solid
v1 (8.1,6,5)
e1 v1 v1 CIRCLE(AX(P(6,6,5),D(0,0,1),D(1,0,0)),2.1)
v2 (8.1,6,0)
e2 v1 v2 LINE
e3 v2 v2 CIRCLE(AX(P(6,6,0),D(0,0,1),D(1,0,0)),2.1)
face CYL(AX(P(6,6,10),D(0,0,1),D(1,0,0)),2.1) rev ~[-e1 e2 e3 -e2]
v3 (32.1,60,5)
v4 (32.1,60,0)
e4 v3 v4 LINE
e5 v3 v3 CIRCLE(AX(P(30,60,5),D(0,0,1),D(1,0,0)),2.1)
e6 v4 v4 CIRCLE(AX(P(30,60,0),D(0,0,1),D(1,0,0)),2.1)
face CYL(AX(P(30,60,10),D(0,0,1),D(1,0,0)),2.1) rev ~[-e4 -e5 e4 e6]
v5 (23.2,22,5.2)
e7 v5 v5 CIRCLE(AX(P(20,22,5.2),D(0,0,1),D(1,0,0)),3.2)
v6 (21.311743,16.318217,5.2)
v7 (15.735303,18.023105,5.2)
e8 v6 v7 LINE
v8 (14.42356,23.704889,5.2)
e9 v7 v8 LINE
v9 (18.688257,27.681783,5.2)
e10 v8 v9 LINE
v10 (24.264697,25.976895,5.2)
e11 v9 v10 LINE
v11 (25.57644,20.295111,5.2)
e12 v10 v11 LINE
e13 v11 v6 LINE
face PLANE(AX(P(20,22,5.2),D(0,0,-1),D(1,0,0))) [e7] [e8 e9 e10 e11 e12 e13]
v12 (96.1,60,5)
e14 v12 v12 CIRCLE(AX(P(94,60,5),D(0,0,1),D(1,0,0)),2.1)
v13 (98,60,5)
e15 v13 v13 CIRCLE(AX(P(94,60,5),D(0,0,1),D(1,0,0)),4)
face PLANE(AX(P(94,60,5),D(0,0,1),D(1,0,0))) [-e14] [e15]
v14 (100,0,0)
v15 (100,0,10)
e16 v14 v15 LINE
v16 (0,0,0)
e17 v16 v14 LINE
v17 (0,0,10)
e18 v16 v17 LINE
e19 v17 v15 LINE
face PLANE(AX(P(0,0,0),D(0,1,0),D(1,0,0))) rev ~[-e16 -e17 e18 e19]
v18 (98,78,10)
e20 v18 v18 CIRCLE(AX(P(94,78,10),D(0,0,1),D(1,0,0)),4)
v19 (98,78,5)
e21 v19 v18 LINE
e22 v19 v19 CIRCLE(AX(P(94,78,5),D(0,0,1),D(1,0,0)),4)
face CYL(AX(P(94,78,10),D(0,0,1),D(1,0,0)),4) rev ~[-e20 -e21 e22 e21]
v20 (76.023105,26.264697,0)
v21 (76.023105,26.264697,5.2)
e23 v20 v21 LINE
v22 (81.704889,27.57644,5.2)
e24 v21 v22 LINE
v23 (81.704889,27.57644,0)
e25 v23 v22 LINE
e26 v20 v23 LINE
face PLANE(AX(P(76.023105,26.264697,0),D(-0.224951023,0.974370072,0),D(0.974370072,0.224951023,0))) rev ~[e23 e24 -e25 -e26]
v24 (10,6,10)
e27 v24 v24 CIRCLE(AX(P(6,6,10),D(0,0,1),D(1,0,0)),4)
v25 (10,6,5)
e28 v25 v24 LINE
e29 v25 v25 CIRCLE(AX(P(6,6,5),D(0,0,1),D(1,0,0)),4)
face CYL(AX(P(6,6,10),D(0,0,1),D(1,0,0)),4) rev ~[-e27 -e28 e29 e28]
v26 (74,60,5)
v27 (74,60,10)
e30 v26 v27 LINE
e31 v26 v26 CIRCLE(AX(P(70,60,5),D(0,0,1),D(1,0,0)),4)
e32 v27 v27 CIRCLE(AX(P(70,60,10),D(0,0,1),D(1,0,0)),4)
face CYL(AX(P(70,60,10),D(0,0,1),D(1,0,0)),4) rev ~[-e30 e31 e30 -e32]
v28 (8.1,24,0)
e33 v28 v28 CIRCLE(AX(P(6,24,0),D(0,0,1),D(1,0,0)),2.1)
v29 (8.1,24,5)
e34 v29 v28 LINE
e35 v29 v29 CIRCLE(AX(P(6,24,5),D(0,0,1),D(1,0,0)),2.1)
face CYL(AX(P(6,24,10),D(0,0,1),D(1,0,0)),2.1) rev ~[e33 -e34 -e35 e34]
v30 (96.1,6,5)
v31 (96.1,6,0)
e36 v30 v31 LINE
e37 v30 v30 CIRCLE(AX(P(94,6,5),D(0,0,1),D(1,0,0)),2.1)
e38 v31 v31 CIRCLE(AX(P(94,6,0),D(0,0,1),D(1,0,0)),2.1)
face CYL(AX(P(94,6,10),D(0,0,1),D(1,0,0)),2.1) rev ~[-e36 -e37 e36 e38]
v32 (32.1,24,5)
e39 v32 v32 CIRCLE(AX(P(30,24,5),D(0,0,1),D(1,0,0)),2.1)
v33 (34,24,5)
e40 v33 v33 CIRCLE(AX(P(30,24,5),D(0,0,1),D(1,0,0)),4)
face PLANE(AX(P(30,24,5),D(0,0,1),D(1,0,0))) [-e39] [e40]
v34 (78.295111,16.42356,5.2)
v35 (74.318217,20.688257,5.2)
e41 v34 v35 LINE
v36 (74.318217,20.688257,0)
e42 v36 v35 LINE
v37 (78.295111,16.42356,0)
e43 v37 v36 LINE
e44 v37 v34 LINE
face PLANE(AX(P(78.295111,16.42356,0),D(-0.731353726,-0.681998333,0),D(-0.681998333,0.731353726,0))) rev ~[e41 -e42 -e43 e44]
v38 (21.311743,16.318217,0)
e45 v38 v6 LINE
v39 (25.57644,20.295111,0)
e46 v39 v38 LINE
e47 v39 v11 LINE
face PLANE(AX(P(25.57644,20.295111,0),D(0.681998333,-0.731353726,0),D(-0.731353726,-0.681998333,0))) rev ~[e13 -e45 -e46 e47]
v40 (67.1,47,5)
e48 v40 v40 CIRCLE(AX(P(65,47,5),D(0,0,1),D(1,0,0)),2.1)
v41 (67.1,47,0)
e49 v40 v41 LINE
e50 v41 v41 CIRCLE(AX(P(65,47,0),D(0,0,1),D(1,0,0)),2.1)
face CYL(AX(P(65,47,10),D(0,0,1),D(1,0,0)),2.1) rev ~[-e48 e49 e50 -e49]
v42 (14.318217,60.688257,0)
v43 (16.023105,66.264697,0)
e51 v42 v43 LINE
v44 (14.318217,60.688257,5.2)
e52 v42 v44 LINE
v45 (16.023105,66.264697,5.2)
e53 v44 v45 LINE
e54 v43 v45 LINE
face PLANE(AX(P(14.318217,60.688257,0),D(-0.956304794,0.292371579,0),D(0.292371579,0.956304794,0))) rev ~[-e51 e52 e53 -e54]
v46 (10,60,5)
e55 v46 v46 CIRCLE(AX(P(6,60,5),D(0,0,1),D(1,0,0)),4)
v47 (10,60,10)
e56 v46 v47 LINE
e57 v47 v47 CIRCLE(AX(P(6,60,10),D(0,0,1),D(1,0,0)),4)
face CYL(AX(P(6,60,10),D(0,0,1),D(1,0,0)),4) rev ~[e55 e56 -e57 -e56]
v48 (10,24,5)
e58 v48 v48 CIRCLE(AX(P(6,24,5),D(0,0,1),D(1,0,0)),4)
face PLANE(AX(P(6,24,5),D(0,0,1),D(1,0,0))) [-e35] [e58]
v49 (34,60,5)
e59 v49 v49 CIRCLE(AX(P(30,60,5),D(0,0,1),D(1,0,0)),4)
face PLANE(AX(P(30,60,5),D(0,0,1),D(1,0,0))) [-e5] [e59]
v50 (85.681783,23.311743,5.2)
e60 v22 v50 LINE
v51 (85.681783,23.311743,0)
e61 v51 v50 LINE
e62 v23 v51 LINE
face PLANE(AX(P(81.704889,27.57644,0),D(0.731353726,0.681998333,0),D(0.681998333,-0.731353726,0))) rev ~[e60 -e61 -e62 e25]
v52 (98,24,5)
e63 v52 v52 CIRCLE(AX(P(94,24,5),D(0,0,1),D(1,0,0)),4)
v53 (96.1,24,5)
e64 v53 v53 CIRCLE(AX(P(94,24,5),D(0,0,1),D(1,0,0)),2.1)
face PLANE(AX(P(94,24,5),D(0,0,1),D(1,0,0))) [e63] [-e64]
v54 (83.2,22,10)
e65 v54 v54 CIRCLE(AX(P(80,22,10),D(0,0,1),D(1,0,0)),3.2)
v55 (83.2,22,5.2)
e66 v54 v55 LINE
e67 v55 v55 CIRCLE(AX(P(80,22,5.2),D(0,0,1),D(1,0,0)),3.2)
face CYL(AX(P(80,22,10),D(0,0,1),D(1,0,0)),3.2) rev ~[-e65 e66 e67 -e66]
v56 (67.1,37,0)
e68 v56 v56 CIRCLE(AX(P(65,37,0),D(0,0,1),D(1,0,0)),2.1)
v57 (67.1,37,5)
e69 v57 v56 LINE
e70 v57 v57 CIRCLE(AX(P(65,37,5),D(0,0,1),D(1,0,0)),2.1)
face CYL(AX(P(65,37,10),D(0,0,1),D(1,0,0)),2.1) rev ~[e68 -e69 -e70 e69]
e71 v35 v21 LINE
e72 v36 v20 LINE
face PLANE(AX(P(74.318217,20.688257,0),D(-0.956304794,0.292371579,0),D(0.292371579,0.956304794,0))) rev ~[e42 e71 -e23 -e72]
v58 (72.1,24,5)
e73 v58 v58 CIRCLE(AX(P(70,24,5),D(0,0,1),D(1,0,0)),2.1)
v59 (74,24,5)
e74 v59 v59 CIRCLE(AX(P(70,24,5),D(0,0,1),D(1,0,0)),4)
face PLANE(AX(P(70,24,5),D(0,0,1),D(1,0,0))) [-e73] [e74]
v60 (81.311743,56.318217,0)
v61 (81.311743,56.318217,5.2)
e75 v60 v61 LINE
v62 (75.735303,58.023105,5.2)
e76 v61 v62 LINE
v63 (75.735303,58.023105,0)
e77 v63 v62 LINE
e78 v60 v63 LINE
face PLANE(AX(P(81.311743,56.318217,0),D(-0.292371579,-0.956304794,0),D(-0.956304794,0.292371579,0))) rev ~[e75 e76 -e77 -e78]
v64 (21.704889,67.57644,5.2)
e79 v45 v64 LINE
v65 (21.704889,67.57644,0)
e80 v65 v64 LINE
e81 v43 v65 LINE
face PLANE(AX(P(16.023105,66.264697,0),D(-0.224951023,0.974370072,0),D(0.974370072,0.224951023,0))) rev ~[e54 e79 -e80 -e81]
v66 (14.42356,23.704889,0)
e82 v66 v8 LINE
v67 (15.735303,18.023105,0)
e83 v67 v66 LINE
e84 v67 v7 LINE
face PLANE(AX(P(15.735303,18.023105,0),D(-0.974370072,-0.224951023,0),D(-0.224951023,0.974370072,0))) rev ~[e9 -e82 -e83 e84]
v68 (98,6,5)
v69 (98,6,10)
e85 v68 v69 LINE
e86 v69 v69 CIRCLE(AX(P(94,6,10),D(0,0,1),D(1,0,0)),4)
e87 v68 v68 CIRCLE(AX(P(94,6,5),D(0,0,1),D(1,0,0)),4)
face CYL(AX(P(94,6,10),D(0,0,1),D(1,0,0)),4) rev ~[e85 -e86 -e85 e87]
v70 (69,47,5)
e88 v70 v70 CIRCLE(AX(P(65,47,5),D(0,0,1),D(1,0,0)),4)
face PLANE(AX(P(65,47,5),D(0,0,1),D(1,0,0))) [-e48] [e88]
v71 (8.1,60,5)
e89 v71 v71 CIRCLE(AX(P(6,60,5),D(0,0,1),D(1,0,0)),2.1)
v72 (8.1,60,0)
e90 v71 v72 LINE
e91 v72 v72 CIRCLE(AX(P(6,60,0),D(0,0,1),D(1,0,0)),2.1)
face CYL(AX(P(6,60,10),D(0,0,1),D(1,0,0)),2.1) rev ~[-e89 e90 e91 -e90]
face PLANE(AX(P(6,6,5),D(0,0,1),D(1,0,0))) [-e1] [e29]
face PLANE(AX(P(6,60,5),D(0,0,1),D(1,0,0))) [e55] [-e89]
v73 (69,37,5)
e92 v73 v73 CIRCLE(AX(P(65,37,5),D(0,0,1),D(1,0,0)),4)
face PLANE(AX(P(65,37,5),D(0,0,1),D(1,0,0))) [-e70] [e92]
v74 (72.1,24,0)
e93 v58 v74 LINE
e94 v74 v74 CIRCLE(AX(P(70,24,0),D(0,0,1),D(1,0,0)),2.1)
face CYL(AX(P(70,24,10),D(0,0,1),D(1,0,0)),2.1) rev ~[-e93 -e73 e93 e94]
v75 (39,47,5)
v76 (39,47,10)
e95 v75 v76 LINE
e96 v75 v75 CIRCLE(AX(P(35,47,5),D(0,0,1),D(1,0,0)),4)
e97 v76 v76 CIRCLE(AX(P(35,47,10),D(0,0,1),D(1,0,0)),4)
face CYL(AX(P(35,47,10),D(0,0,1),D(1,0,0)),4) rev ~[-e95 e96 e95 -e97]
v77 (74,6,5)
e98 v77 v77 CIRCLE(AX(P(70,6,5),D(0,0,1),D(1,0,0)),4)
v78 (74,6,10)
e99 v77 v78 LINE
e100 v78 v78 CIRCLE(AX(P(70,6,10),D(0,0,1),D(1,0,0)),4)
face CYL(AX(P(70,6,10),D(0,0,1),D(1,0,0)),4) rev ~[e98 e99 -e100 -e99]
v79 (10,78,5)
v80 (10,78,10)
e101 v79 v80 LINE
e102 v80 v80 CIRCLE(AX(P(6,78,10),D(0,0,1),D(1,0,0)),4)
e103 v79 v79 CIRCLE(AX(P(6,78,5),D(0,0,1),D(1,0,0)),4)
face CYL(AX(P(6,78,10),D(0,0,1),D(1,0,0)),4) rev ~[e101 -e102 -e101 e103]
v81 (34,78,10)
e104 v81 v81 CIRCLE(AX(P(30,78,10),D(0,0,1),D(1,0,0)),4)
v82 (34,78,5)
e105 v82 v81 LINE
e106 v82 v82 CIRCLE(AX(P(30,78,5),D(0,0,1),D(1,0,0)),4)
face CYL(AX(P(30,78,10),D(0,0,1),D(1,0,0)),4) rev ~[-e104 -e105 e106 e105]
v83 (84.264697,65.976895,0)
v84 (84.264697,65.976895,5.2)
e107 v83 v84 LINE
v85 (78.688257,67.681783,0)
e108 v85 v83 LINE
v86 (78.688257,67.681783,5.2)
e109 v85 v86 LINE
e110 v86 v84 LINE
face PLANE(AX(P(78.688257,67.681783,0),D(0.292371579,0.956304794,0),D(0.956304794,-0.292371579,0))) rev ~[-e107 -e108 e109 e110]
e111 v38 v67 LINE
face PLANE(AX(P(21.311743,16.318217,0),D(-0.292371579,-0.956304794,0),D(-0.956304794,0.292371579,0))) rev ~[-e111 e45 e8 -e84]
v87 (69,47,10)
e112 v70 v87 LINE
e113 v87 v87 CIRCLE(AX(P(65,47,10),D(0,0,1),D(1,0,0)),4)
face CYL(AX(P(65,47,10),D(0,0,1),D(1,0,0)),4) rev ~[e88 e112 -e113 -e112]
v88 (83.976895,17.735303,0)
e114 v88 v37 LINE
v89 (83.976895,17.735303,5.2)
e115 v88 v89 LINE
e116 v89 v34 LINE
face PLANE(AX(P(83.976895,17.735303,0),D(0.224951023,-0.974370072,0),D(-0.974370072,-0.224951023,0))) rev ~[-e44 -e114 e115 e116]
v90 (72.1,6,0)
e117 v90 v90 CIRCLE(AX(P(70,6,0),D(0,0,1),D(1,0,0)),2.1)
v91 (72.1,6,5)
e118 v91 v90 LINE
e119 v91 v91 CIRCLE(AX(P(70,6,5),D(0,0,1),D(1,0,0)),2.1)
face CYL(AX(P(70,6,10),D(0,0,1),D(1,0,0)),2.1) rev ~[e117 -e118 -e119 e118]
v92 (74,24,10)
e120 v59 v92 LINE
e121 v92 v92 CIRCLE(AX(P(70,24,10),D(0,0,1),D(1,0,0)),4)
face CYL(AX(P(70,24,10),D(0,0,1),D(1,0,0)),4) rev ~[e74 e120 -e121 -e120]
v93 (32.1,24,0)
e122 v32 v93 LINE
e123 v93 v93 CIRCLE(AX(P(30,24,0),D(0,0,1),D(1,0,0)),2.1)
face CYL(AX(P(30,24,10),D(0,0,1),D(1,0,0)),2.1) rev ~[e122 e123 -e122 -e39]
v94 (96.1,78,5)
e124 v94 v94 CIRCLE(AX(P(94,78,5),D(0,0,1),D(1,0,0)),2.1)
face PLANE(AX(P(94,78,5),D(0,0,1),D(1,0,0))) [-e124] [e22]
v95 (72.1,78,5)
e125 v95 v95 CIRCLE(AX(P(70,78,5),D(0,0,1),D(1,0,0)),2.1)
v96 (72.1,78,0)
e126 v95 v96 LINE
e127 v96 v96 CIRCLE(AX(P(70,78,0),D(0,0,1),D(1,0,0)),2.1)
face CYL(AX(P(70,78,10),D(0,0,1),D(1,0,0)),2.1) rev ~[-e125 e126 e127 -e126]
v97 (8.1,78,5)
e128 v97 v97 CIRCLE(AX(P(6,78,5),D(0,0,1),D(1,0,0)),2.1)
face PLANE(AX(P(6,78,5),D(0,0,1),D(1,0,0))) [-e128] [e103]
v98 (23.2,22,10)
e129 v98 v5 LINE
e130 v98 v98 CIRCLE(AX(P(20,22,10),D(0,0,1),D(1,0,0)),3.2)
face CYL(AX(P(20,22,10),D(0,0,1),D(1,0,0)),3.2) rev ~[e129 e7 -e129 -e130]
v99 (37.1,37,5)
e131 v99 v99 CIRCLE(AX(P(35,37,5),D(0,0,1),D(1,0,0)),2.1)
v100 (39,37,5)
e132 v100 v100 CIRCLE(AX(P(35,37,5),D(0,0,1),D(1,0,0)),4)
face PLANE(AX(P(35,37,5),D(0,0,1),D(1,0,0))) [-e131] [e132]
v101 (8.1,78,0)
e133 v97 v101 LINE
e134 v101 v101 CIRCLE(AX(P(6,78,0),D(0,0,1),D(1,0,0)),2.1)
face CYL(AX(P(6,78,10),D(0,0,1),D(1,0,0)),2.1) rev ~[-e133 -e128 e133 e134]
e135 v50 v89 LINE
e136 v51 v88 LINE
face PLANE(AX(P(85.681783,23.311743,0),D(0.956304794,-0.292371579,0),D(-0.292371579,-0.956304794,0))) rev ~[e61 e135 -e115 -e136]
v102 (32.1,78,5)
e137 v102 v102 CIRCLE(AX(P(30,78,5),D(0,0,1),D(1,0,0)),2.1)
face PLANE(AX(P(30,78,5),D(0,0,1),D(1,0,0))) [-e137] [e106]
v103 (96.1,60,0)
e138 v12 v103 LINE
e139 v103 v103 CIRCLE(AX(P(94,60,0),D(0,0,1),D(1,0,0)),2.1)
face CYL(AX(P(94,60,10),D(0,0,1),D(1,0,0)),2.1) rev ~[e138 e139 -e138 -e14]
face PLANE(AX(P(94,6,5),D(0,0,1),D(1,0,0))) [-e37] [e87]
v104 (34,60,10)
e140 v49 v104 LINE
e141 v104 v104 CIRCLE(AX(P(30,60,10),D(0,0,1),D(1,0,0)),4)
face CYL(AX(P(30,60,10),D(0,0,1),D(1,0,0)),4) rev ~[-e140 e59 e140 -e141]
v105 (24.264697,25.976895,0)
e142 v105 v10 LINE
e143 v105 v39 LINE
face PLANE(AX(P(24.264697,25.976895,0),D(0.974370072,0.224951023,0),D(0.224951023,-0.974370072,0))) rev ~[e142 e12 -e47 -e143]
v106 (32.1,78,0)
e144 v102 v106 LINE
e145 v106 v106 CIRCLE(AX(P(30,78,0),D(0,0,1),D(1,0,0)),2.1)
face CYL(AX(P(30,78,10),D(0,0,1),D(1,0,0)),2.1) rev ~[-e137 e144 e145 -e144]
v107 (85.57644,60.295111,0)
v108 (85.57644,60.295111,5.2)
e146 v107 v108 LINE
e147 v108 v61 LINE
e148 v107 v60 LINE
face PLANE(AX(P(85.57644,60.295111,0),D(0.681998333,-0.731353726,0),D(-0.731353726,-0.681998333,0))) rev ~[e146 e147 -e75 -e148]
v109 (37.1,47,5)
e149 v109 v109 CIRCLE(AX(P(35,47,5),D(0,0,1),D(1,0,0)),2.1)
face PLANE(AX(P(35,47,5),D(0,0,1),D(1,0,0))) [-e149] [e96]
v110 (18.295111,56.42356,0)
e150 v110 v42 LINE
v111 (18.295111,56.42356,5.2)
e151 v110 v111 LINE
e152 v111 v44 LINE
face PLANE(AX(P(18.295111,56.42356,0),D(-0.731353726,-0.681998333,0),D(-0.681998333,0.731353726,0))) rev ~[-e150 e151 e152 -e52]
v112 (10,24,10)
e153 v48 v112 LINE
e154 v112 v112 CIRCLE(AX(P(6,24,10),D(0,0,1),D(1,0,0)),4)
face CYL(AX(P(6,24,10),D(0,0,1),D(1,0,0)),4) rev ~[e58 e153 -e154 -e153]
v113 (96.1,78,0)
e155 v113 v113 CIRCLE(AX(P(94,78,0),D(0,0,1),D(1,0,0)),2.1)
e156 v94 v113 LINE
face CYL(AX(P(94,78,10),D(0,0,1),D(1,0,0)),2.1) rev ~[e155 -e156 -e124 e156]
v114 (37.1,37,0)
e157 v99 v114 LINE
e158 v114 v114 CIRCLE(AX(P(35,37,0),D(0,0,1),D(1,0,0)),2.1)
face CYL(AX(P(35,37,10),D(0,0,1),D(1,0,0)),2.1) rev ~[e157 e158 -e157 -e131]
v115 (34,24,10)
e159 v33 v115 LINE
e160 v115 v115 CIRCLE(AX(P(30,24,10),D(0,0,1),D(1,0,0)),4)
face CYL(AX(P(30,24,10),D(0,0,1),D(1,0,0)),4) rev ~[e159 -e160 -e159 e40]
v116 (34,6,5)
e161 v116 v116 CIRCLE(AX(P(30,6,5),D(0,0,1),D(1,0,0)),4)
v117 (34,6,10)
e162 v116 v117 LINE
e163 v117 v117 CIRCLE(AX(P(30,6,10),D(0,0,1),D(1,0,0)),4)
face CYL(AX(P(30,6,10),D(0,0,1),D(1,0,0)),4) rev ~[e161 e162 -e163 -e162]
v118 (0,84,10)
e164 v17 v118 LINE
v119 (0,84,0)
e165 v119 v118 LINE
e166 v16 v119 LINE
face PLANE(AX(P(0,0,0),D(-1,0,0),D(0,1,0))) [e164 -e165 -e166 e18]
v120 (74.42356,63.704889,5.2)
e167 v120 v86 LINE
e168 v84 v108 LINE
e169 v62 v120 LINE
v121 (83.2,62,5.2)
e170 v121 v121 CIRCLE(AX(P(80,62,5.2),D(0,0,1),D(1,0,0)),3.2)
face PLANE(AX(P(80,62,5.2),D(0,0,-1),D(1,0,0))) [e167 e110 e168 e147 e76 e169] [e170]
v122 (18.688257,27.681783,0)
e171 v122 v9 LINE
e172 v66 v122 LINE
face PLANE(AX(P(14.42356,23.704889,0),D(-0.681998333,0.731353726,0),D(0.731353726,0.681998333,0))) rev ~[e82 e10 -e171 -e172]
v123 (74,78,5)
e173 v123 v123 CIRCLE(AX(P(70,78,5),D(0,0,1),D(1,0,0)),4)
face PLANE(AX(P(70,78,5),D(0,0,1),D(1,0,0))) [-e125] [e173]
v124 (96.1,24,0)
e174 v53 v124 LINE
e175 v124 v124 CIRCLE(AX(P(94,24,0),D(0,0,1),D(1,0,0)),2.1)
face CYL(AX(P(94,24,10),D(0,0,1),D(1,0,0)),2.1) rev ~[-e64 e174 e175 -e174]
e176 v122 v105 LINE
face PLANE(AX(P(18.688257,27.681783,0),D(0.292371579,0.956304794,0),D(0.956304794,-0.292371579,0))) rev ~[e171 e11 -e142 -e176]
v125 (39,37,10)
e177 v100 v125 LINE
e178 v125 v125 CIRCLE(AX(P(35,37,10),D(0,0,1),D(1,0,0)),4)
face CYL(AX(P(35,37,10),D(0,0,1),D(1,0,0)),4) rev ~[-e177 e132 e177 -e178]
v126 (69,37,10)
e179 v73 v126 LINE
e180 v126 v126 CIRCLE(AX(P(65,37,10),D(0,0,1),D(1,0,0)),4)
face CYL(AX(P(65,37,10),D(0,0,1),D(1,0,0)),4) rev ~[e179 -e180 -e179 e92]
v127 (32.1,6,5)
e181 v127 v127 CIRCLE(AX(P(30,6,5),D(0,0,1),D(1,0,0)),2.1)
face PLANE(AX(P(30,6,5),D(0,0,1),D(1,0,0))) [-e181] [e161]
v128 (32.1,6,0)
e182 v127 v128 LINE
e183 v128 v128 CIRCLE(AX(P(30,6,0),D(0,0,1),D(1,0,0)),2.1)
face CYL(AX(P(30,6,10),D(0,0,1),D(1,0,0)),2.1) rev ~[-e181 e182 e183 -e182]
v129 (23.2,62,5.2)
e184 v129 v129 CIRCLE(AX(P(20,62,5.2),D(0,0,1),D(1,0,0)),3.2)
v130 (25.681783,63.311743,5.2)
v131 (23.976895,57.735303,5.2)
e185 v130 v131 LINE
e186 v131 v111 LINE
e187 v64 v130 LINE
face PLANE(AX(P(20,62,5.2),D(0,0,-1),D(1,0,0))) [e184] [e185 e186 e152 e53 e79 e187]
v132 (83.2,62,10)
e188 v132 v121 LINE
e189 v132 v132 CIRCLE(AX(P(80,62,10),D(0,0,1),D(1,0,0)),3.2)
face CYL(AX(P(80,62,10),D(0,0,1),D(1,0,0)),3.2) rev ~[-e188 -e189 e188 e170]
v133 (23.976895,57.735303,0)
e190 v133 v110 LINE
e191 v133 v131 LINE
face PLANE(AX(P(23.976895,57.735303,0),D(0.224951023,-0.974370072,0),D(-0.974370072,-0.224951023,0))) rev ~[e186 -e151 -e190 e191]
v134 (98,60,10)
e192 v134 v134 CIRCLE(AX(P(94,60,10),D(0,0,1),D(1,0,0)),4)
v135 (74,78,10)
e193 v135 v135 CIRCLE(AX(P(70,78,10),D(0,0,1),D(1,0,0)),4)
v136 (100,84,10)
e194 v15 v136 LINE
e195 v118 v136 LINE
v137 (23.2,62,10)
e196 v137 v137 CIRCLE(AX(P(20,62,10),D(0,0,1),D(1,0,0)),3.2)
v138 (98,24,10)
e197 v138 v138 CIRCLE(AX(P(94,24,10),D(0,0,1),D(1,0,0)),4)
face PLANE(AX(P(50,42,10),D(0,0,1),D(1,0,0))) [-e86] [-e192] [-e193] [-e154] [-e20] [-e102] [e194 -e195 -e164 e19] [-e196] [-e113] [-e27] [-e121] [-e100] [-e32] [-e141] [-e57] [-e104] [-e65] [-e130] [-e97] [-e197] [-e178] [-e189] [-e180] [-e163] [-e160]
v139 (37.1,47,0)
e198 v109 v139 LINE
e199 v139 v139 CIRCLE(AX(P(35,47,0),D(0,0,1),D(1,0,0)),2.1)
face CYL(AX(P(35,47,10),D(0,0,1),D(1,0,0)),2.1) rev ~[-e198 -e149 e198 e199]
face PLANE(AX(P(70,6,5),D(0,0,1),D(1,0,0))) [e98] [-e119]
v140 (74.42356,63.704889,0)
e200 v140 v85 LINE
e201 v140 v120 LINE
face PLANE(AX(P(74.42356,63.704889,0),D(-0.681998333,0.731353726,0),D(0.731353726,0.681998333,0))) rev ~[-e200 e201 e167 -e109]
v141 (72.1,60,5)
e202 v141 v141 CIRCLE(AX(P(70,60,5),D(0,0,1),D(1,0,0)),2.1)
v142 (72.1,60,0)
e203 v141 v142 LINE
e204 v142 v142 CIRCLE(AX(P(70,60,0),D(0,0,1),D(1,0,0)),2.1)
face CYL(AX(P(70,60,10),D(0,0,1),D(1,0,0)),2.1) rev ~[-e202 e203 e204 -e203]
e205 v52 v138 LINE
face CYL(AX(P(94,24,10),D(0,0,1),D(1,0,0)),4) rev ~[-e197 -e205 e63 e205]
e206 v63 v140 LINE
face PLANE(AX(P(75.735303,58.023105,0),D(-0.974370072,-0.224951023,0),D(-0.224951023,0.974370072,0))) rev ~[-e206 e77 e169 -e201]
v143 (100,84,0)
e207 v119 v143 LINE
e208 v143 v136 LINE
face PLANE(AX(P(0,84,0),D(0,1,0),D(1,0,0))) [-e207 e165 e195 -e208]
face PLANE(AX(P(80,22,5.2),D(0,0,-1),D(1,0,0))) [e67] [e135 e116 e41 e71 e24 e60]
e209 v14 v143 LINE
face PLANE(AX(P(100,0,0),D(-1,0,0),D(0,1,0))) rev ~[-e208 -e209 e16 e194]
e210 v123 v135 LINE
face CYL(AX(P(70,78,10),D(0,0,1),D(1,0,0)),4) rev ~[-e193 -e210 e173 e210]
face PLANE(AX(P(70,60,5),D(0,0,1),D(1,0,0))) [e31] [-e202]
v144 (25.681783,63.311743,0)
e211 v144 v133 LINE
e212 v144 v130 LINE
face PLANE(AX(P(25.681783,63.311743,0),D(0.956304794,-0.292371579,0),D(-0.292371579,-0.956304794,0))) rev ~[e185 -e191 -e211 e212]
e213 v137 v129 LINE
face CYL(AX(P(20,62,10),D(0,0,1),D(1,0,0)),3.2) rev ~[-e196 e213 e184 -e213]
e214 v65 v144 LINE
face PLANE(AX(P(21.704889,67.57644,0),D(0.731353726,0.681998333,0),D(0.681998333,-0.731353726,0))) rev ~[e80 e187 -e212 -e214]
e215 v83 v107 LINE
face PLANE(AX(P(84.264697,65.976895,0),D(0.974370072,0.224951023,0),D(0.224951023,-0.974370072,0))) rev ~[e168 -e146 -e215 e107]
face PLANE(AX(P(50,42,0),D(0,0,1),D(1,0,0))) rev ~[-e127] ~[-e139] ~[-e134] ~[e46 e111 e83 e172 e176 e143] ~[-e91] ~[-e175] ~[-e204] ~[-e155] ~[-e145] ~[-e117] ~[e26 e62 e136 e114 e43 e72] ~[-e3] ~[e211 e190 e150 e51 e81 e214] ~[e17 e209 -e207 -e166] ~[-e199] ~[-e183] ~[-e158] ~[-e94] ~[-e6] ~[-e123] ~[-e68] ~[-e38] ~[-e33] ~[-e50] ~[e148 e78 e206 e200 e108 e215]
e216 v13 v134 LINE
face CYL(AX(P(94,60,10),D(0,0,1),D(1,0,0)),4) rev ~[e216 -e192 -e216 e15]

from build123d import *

# Parameters (mm, degrees)
SKETCH_W        = 100
SKETCH_H        = 84
PAD_DEPTH       = 10
SKETCH001_R     = 2.1
POCKET_DEPTH    = 10
SKETCH002_R     = 3.2
POCKET001_DEPTH = 10
SKETCH003_R     = 4
POCKET002_DEPTH = 5
POCKET003_DEPTH = 4
POCKET004_DEPTH = 5.2


with BuildPart() as part:
    # Sketch → Pad (new body)
    with BuildSketch(Plane.XY):
        with Locations((50, 42)):
            Rectangle(SKETCH_W, SKETCH_H)
    extrude(amount=PAD_DEPTH)

    # Sketch001 (on Face6 of Pad) → Pocket (cut)
    with BuildSketch(Plane.XY.offset(10)):
        with Locations((6, 78)):
            Circle(SKETCH001_R)
        with Locations((30, 78)):
            Circle(SKETCH001_R)
        with Locations((6, 60)):
            Circle(SKETCH001_R)
        with Locations((30, 60)):
            Circle(SKETCH001_R)
        with Locations((6, 24)):
            Circle(SKETCH001_R)
        with Locations((30, 24)):
            Circle(SKETCH001_R)
        with Locations((6, 6)):
            Circle(SKETCH001_R)
        with Locations((30, 6)):
            Circle(SKETCH001_R)
        with Locations((70, 78)):
            Circle(SKETCH001_R)
        with Locations((94, 78)):
            Circle(SKETCH001_R)
        with Locations((70, 60)):
            Circle(SKETCH001_R)
        with Locations((94, 60)):
            Circle(SKETCH001_R)
        with Locations((70, 24)):
            Circle(SKETCH001_R)
        with Locations((94, 24)):
            Circle(SKETCH001_R)
        with Locations((70, 6)):
            Circle(SKETCH001_R)
        with Locations((94, 6)):
            Circle(SKETCH001_R)
        with Locations((35, 47)):
            Circle(SKETCH001_R)
        with Locations((65, 47)):
            Circle(SKETCH001_R)
        with Locations((35, 37)):
            Circle(SKETCH001_R)
        with Locations((65, 37)):
            Circle(SKETCH001_R)
    extrude(amount=-POCKET_DEPTH, mode=Mode.SUBTRACT)

    # Sketch002 (on Face5 of Pocket) → Pocket001 (cut)
    with BuildSketch(Plane.XY.offset(10)):
        with Locations((20, 62)):
            Circle(SKETCH002_R)
        with Locations((20, 22)):
            Circle(SKETCH002_R)
        with Locations((80, 62)):
            Circle(SKETCH002_R)
        with Locations((80, 22)):
            Circle(SKETCH002_R)
    extrude(amount=-POCKET001_DEPTH, mode=Mode.SUBTRACT)

    # Sketch003 (on Face5 of Pocket001) → Pocket002 (cut)
    with BuildSketch(Plane.XY.offset(10)):
        with Locations((6, 78)):
            Circle(SKETCH003_R)
        with Locations((30, 78)):
            Circle(SKETCH003_R)
        with Locations((30, 60)):
            Circle(SKETCH003_R)
        with Locations((6, 60)):
            Circle(SKETCH003_R)
        with Locations((70, 78)):
            Circle(SKETCH003_R)
        with Locations((94, 78)):
            Circle(SKETCH003_R)
        with Locations((70, 60)):
            Circle(SKETCH003_R)
        with Locations((94, 60)):
            Circle(SKETCH003_R)
        with Locations((6, 24)):
            Circle(SKETCH003_R)
        with Locations((30, 24)):
            Circle(SKETCH003_R)
        with Locations((6, 6)):
            Circle(SKETCH003_R)
        with Locations((30, 6)):
            Circle(SKETCH003_R)
        with Locations((70, 24)):
            Circle(SKETCH003_R)
        with Locations((94, 24)):
            Circle(SKETCH003_R)
        with Locations((70, 6)):
            Circle(SKETCH003_R)
        with Locations((94, 6)):
            Circle(SKETCH003_R)
        with Locations((35, 47)):
            Circle(SKETCH003_R)
        with Locations((35, 37)):
            Circle(SKETCH003_R)
        with Locations((65, 37)):
            Circle(SKETCH003_R)
        with Locations((65, 47)):
            Circle(SKETCH003_R)
    extrude(amount=-POCKET002_DEPTH, mode=Mode.SUBTRACT)

    # Sketch003 (on Face5 of Pocket001) → Pocket003 (cut)
    with BuildSketch(Plane.XY.offset(10)):
        with Locations((6, 78)):
            Circle(SKETCH003_R)
        with Locations((30, 78)):
            Circle(SKETCH003_R)
        with Locations((30, 60)):
            Circle(SKETCH003_R)
        with Locations((6, 60)):
            Circle(SKETCH003_R)
        with Locations((70, 78)):
            Circle(SKETCH003_R)
        with Locations((94, 78)):
            Circle(SKETCH003_R)
        with Locations((70, 60)):
            Circle(SKETCH003_R)
        with Locations((94, 60)):
            Circle(SKETCH003_R)
        with Locations((6, 24)):
            Circle(SKETCH003_R)
        with Locations((30, 24)):
            Circle(SKETCH003_R)
        with Locations((6, 6)):
            Circle(SKETCH003_R)
        with Locations((30, 6)):
            Circle(SKETCH003_R)
        with Locations((70, 24)):
            Circle(SKETCH003_R)
        with Locations((94, 24)):
            Circle(SKETCH003_R)
        with Locations((70, 6)):
            Circle(SKETCH003_R)
        with Locations((94, 6)):
            Circle(SKETCH003_R)
        with Locations((35, 47)):
            Circle(SKETCH003_R)
        with Locations((35, 37)):
            Circle(SKETCH003_R)
        with Locations((65, 37)):
            Circle(SKETCH003_R)
        with Locations((65, 47)):
            Circle(SKETCH003_R)
    extrude(amount=-POCKET003_DEPTH, mode=Mode.SUBTRACT)

    # Sketch004 (on Face4 of Pocket003) → Pocket004 (cut)
    with BuildSketch(Plane(origin=(0, 0, 0), x_dir=(1, 0, 0), z_dir=(0, 0, -1))):
        Polygon((14.42356, -23.704889), (18.688257, -27.681783), (24.264697, -25.976895), (25.57644, -20.295111), (21.311743, -16.318217), (15.735303, -18.023105), align=None)
        Polygon((74.318217, -20.688257), (76.023105, -26.264697), (81.704889, -27.57644), (85.681783, -23.311743), (83.976895, -17.735303), (78.295111, -16.42356), align=None)
        Polygon((74.42356, -63.704889), (78.688257, -67.681783), (84.264697, -65.976895), (85.57644, -60.295111), (81.311743, -56.318217), (75.735303, -58.023105), align=None)
        Polygon((14.318217, -60.688257), (16.023105, -66.264697), (21.704889, -67.57644), (25.681783, -63.311743), (23.976895, -57.735303), (18.295111, -56.42356), align=None)
    extrude(amount=-POCKET004_DEPTH, mode=Mode.SUBTRACT)


solid = part.part
